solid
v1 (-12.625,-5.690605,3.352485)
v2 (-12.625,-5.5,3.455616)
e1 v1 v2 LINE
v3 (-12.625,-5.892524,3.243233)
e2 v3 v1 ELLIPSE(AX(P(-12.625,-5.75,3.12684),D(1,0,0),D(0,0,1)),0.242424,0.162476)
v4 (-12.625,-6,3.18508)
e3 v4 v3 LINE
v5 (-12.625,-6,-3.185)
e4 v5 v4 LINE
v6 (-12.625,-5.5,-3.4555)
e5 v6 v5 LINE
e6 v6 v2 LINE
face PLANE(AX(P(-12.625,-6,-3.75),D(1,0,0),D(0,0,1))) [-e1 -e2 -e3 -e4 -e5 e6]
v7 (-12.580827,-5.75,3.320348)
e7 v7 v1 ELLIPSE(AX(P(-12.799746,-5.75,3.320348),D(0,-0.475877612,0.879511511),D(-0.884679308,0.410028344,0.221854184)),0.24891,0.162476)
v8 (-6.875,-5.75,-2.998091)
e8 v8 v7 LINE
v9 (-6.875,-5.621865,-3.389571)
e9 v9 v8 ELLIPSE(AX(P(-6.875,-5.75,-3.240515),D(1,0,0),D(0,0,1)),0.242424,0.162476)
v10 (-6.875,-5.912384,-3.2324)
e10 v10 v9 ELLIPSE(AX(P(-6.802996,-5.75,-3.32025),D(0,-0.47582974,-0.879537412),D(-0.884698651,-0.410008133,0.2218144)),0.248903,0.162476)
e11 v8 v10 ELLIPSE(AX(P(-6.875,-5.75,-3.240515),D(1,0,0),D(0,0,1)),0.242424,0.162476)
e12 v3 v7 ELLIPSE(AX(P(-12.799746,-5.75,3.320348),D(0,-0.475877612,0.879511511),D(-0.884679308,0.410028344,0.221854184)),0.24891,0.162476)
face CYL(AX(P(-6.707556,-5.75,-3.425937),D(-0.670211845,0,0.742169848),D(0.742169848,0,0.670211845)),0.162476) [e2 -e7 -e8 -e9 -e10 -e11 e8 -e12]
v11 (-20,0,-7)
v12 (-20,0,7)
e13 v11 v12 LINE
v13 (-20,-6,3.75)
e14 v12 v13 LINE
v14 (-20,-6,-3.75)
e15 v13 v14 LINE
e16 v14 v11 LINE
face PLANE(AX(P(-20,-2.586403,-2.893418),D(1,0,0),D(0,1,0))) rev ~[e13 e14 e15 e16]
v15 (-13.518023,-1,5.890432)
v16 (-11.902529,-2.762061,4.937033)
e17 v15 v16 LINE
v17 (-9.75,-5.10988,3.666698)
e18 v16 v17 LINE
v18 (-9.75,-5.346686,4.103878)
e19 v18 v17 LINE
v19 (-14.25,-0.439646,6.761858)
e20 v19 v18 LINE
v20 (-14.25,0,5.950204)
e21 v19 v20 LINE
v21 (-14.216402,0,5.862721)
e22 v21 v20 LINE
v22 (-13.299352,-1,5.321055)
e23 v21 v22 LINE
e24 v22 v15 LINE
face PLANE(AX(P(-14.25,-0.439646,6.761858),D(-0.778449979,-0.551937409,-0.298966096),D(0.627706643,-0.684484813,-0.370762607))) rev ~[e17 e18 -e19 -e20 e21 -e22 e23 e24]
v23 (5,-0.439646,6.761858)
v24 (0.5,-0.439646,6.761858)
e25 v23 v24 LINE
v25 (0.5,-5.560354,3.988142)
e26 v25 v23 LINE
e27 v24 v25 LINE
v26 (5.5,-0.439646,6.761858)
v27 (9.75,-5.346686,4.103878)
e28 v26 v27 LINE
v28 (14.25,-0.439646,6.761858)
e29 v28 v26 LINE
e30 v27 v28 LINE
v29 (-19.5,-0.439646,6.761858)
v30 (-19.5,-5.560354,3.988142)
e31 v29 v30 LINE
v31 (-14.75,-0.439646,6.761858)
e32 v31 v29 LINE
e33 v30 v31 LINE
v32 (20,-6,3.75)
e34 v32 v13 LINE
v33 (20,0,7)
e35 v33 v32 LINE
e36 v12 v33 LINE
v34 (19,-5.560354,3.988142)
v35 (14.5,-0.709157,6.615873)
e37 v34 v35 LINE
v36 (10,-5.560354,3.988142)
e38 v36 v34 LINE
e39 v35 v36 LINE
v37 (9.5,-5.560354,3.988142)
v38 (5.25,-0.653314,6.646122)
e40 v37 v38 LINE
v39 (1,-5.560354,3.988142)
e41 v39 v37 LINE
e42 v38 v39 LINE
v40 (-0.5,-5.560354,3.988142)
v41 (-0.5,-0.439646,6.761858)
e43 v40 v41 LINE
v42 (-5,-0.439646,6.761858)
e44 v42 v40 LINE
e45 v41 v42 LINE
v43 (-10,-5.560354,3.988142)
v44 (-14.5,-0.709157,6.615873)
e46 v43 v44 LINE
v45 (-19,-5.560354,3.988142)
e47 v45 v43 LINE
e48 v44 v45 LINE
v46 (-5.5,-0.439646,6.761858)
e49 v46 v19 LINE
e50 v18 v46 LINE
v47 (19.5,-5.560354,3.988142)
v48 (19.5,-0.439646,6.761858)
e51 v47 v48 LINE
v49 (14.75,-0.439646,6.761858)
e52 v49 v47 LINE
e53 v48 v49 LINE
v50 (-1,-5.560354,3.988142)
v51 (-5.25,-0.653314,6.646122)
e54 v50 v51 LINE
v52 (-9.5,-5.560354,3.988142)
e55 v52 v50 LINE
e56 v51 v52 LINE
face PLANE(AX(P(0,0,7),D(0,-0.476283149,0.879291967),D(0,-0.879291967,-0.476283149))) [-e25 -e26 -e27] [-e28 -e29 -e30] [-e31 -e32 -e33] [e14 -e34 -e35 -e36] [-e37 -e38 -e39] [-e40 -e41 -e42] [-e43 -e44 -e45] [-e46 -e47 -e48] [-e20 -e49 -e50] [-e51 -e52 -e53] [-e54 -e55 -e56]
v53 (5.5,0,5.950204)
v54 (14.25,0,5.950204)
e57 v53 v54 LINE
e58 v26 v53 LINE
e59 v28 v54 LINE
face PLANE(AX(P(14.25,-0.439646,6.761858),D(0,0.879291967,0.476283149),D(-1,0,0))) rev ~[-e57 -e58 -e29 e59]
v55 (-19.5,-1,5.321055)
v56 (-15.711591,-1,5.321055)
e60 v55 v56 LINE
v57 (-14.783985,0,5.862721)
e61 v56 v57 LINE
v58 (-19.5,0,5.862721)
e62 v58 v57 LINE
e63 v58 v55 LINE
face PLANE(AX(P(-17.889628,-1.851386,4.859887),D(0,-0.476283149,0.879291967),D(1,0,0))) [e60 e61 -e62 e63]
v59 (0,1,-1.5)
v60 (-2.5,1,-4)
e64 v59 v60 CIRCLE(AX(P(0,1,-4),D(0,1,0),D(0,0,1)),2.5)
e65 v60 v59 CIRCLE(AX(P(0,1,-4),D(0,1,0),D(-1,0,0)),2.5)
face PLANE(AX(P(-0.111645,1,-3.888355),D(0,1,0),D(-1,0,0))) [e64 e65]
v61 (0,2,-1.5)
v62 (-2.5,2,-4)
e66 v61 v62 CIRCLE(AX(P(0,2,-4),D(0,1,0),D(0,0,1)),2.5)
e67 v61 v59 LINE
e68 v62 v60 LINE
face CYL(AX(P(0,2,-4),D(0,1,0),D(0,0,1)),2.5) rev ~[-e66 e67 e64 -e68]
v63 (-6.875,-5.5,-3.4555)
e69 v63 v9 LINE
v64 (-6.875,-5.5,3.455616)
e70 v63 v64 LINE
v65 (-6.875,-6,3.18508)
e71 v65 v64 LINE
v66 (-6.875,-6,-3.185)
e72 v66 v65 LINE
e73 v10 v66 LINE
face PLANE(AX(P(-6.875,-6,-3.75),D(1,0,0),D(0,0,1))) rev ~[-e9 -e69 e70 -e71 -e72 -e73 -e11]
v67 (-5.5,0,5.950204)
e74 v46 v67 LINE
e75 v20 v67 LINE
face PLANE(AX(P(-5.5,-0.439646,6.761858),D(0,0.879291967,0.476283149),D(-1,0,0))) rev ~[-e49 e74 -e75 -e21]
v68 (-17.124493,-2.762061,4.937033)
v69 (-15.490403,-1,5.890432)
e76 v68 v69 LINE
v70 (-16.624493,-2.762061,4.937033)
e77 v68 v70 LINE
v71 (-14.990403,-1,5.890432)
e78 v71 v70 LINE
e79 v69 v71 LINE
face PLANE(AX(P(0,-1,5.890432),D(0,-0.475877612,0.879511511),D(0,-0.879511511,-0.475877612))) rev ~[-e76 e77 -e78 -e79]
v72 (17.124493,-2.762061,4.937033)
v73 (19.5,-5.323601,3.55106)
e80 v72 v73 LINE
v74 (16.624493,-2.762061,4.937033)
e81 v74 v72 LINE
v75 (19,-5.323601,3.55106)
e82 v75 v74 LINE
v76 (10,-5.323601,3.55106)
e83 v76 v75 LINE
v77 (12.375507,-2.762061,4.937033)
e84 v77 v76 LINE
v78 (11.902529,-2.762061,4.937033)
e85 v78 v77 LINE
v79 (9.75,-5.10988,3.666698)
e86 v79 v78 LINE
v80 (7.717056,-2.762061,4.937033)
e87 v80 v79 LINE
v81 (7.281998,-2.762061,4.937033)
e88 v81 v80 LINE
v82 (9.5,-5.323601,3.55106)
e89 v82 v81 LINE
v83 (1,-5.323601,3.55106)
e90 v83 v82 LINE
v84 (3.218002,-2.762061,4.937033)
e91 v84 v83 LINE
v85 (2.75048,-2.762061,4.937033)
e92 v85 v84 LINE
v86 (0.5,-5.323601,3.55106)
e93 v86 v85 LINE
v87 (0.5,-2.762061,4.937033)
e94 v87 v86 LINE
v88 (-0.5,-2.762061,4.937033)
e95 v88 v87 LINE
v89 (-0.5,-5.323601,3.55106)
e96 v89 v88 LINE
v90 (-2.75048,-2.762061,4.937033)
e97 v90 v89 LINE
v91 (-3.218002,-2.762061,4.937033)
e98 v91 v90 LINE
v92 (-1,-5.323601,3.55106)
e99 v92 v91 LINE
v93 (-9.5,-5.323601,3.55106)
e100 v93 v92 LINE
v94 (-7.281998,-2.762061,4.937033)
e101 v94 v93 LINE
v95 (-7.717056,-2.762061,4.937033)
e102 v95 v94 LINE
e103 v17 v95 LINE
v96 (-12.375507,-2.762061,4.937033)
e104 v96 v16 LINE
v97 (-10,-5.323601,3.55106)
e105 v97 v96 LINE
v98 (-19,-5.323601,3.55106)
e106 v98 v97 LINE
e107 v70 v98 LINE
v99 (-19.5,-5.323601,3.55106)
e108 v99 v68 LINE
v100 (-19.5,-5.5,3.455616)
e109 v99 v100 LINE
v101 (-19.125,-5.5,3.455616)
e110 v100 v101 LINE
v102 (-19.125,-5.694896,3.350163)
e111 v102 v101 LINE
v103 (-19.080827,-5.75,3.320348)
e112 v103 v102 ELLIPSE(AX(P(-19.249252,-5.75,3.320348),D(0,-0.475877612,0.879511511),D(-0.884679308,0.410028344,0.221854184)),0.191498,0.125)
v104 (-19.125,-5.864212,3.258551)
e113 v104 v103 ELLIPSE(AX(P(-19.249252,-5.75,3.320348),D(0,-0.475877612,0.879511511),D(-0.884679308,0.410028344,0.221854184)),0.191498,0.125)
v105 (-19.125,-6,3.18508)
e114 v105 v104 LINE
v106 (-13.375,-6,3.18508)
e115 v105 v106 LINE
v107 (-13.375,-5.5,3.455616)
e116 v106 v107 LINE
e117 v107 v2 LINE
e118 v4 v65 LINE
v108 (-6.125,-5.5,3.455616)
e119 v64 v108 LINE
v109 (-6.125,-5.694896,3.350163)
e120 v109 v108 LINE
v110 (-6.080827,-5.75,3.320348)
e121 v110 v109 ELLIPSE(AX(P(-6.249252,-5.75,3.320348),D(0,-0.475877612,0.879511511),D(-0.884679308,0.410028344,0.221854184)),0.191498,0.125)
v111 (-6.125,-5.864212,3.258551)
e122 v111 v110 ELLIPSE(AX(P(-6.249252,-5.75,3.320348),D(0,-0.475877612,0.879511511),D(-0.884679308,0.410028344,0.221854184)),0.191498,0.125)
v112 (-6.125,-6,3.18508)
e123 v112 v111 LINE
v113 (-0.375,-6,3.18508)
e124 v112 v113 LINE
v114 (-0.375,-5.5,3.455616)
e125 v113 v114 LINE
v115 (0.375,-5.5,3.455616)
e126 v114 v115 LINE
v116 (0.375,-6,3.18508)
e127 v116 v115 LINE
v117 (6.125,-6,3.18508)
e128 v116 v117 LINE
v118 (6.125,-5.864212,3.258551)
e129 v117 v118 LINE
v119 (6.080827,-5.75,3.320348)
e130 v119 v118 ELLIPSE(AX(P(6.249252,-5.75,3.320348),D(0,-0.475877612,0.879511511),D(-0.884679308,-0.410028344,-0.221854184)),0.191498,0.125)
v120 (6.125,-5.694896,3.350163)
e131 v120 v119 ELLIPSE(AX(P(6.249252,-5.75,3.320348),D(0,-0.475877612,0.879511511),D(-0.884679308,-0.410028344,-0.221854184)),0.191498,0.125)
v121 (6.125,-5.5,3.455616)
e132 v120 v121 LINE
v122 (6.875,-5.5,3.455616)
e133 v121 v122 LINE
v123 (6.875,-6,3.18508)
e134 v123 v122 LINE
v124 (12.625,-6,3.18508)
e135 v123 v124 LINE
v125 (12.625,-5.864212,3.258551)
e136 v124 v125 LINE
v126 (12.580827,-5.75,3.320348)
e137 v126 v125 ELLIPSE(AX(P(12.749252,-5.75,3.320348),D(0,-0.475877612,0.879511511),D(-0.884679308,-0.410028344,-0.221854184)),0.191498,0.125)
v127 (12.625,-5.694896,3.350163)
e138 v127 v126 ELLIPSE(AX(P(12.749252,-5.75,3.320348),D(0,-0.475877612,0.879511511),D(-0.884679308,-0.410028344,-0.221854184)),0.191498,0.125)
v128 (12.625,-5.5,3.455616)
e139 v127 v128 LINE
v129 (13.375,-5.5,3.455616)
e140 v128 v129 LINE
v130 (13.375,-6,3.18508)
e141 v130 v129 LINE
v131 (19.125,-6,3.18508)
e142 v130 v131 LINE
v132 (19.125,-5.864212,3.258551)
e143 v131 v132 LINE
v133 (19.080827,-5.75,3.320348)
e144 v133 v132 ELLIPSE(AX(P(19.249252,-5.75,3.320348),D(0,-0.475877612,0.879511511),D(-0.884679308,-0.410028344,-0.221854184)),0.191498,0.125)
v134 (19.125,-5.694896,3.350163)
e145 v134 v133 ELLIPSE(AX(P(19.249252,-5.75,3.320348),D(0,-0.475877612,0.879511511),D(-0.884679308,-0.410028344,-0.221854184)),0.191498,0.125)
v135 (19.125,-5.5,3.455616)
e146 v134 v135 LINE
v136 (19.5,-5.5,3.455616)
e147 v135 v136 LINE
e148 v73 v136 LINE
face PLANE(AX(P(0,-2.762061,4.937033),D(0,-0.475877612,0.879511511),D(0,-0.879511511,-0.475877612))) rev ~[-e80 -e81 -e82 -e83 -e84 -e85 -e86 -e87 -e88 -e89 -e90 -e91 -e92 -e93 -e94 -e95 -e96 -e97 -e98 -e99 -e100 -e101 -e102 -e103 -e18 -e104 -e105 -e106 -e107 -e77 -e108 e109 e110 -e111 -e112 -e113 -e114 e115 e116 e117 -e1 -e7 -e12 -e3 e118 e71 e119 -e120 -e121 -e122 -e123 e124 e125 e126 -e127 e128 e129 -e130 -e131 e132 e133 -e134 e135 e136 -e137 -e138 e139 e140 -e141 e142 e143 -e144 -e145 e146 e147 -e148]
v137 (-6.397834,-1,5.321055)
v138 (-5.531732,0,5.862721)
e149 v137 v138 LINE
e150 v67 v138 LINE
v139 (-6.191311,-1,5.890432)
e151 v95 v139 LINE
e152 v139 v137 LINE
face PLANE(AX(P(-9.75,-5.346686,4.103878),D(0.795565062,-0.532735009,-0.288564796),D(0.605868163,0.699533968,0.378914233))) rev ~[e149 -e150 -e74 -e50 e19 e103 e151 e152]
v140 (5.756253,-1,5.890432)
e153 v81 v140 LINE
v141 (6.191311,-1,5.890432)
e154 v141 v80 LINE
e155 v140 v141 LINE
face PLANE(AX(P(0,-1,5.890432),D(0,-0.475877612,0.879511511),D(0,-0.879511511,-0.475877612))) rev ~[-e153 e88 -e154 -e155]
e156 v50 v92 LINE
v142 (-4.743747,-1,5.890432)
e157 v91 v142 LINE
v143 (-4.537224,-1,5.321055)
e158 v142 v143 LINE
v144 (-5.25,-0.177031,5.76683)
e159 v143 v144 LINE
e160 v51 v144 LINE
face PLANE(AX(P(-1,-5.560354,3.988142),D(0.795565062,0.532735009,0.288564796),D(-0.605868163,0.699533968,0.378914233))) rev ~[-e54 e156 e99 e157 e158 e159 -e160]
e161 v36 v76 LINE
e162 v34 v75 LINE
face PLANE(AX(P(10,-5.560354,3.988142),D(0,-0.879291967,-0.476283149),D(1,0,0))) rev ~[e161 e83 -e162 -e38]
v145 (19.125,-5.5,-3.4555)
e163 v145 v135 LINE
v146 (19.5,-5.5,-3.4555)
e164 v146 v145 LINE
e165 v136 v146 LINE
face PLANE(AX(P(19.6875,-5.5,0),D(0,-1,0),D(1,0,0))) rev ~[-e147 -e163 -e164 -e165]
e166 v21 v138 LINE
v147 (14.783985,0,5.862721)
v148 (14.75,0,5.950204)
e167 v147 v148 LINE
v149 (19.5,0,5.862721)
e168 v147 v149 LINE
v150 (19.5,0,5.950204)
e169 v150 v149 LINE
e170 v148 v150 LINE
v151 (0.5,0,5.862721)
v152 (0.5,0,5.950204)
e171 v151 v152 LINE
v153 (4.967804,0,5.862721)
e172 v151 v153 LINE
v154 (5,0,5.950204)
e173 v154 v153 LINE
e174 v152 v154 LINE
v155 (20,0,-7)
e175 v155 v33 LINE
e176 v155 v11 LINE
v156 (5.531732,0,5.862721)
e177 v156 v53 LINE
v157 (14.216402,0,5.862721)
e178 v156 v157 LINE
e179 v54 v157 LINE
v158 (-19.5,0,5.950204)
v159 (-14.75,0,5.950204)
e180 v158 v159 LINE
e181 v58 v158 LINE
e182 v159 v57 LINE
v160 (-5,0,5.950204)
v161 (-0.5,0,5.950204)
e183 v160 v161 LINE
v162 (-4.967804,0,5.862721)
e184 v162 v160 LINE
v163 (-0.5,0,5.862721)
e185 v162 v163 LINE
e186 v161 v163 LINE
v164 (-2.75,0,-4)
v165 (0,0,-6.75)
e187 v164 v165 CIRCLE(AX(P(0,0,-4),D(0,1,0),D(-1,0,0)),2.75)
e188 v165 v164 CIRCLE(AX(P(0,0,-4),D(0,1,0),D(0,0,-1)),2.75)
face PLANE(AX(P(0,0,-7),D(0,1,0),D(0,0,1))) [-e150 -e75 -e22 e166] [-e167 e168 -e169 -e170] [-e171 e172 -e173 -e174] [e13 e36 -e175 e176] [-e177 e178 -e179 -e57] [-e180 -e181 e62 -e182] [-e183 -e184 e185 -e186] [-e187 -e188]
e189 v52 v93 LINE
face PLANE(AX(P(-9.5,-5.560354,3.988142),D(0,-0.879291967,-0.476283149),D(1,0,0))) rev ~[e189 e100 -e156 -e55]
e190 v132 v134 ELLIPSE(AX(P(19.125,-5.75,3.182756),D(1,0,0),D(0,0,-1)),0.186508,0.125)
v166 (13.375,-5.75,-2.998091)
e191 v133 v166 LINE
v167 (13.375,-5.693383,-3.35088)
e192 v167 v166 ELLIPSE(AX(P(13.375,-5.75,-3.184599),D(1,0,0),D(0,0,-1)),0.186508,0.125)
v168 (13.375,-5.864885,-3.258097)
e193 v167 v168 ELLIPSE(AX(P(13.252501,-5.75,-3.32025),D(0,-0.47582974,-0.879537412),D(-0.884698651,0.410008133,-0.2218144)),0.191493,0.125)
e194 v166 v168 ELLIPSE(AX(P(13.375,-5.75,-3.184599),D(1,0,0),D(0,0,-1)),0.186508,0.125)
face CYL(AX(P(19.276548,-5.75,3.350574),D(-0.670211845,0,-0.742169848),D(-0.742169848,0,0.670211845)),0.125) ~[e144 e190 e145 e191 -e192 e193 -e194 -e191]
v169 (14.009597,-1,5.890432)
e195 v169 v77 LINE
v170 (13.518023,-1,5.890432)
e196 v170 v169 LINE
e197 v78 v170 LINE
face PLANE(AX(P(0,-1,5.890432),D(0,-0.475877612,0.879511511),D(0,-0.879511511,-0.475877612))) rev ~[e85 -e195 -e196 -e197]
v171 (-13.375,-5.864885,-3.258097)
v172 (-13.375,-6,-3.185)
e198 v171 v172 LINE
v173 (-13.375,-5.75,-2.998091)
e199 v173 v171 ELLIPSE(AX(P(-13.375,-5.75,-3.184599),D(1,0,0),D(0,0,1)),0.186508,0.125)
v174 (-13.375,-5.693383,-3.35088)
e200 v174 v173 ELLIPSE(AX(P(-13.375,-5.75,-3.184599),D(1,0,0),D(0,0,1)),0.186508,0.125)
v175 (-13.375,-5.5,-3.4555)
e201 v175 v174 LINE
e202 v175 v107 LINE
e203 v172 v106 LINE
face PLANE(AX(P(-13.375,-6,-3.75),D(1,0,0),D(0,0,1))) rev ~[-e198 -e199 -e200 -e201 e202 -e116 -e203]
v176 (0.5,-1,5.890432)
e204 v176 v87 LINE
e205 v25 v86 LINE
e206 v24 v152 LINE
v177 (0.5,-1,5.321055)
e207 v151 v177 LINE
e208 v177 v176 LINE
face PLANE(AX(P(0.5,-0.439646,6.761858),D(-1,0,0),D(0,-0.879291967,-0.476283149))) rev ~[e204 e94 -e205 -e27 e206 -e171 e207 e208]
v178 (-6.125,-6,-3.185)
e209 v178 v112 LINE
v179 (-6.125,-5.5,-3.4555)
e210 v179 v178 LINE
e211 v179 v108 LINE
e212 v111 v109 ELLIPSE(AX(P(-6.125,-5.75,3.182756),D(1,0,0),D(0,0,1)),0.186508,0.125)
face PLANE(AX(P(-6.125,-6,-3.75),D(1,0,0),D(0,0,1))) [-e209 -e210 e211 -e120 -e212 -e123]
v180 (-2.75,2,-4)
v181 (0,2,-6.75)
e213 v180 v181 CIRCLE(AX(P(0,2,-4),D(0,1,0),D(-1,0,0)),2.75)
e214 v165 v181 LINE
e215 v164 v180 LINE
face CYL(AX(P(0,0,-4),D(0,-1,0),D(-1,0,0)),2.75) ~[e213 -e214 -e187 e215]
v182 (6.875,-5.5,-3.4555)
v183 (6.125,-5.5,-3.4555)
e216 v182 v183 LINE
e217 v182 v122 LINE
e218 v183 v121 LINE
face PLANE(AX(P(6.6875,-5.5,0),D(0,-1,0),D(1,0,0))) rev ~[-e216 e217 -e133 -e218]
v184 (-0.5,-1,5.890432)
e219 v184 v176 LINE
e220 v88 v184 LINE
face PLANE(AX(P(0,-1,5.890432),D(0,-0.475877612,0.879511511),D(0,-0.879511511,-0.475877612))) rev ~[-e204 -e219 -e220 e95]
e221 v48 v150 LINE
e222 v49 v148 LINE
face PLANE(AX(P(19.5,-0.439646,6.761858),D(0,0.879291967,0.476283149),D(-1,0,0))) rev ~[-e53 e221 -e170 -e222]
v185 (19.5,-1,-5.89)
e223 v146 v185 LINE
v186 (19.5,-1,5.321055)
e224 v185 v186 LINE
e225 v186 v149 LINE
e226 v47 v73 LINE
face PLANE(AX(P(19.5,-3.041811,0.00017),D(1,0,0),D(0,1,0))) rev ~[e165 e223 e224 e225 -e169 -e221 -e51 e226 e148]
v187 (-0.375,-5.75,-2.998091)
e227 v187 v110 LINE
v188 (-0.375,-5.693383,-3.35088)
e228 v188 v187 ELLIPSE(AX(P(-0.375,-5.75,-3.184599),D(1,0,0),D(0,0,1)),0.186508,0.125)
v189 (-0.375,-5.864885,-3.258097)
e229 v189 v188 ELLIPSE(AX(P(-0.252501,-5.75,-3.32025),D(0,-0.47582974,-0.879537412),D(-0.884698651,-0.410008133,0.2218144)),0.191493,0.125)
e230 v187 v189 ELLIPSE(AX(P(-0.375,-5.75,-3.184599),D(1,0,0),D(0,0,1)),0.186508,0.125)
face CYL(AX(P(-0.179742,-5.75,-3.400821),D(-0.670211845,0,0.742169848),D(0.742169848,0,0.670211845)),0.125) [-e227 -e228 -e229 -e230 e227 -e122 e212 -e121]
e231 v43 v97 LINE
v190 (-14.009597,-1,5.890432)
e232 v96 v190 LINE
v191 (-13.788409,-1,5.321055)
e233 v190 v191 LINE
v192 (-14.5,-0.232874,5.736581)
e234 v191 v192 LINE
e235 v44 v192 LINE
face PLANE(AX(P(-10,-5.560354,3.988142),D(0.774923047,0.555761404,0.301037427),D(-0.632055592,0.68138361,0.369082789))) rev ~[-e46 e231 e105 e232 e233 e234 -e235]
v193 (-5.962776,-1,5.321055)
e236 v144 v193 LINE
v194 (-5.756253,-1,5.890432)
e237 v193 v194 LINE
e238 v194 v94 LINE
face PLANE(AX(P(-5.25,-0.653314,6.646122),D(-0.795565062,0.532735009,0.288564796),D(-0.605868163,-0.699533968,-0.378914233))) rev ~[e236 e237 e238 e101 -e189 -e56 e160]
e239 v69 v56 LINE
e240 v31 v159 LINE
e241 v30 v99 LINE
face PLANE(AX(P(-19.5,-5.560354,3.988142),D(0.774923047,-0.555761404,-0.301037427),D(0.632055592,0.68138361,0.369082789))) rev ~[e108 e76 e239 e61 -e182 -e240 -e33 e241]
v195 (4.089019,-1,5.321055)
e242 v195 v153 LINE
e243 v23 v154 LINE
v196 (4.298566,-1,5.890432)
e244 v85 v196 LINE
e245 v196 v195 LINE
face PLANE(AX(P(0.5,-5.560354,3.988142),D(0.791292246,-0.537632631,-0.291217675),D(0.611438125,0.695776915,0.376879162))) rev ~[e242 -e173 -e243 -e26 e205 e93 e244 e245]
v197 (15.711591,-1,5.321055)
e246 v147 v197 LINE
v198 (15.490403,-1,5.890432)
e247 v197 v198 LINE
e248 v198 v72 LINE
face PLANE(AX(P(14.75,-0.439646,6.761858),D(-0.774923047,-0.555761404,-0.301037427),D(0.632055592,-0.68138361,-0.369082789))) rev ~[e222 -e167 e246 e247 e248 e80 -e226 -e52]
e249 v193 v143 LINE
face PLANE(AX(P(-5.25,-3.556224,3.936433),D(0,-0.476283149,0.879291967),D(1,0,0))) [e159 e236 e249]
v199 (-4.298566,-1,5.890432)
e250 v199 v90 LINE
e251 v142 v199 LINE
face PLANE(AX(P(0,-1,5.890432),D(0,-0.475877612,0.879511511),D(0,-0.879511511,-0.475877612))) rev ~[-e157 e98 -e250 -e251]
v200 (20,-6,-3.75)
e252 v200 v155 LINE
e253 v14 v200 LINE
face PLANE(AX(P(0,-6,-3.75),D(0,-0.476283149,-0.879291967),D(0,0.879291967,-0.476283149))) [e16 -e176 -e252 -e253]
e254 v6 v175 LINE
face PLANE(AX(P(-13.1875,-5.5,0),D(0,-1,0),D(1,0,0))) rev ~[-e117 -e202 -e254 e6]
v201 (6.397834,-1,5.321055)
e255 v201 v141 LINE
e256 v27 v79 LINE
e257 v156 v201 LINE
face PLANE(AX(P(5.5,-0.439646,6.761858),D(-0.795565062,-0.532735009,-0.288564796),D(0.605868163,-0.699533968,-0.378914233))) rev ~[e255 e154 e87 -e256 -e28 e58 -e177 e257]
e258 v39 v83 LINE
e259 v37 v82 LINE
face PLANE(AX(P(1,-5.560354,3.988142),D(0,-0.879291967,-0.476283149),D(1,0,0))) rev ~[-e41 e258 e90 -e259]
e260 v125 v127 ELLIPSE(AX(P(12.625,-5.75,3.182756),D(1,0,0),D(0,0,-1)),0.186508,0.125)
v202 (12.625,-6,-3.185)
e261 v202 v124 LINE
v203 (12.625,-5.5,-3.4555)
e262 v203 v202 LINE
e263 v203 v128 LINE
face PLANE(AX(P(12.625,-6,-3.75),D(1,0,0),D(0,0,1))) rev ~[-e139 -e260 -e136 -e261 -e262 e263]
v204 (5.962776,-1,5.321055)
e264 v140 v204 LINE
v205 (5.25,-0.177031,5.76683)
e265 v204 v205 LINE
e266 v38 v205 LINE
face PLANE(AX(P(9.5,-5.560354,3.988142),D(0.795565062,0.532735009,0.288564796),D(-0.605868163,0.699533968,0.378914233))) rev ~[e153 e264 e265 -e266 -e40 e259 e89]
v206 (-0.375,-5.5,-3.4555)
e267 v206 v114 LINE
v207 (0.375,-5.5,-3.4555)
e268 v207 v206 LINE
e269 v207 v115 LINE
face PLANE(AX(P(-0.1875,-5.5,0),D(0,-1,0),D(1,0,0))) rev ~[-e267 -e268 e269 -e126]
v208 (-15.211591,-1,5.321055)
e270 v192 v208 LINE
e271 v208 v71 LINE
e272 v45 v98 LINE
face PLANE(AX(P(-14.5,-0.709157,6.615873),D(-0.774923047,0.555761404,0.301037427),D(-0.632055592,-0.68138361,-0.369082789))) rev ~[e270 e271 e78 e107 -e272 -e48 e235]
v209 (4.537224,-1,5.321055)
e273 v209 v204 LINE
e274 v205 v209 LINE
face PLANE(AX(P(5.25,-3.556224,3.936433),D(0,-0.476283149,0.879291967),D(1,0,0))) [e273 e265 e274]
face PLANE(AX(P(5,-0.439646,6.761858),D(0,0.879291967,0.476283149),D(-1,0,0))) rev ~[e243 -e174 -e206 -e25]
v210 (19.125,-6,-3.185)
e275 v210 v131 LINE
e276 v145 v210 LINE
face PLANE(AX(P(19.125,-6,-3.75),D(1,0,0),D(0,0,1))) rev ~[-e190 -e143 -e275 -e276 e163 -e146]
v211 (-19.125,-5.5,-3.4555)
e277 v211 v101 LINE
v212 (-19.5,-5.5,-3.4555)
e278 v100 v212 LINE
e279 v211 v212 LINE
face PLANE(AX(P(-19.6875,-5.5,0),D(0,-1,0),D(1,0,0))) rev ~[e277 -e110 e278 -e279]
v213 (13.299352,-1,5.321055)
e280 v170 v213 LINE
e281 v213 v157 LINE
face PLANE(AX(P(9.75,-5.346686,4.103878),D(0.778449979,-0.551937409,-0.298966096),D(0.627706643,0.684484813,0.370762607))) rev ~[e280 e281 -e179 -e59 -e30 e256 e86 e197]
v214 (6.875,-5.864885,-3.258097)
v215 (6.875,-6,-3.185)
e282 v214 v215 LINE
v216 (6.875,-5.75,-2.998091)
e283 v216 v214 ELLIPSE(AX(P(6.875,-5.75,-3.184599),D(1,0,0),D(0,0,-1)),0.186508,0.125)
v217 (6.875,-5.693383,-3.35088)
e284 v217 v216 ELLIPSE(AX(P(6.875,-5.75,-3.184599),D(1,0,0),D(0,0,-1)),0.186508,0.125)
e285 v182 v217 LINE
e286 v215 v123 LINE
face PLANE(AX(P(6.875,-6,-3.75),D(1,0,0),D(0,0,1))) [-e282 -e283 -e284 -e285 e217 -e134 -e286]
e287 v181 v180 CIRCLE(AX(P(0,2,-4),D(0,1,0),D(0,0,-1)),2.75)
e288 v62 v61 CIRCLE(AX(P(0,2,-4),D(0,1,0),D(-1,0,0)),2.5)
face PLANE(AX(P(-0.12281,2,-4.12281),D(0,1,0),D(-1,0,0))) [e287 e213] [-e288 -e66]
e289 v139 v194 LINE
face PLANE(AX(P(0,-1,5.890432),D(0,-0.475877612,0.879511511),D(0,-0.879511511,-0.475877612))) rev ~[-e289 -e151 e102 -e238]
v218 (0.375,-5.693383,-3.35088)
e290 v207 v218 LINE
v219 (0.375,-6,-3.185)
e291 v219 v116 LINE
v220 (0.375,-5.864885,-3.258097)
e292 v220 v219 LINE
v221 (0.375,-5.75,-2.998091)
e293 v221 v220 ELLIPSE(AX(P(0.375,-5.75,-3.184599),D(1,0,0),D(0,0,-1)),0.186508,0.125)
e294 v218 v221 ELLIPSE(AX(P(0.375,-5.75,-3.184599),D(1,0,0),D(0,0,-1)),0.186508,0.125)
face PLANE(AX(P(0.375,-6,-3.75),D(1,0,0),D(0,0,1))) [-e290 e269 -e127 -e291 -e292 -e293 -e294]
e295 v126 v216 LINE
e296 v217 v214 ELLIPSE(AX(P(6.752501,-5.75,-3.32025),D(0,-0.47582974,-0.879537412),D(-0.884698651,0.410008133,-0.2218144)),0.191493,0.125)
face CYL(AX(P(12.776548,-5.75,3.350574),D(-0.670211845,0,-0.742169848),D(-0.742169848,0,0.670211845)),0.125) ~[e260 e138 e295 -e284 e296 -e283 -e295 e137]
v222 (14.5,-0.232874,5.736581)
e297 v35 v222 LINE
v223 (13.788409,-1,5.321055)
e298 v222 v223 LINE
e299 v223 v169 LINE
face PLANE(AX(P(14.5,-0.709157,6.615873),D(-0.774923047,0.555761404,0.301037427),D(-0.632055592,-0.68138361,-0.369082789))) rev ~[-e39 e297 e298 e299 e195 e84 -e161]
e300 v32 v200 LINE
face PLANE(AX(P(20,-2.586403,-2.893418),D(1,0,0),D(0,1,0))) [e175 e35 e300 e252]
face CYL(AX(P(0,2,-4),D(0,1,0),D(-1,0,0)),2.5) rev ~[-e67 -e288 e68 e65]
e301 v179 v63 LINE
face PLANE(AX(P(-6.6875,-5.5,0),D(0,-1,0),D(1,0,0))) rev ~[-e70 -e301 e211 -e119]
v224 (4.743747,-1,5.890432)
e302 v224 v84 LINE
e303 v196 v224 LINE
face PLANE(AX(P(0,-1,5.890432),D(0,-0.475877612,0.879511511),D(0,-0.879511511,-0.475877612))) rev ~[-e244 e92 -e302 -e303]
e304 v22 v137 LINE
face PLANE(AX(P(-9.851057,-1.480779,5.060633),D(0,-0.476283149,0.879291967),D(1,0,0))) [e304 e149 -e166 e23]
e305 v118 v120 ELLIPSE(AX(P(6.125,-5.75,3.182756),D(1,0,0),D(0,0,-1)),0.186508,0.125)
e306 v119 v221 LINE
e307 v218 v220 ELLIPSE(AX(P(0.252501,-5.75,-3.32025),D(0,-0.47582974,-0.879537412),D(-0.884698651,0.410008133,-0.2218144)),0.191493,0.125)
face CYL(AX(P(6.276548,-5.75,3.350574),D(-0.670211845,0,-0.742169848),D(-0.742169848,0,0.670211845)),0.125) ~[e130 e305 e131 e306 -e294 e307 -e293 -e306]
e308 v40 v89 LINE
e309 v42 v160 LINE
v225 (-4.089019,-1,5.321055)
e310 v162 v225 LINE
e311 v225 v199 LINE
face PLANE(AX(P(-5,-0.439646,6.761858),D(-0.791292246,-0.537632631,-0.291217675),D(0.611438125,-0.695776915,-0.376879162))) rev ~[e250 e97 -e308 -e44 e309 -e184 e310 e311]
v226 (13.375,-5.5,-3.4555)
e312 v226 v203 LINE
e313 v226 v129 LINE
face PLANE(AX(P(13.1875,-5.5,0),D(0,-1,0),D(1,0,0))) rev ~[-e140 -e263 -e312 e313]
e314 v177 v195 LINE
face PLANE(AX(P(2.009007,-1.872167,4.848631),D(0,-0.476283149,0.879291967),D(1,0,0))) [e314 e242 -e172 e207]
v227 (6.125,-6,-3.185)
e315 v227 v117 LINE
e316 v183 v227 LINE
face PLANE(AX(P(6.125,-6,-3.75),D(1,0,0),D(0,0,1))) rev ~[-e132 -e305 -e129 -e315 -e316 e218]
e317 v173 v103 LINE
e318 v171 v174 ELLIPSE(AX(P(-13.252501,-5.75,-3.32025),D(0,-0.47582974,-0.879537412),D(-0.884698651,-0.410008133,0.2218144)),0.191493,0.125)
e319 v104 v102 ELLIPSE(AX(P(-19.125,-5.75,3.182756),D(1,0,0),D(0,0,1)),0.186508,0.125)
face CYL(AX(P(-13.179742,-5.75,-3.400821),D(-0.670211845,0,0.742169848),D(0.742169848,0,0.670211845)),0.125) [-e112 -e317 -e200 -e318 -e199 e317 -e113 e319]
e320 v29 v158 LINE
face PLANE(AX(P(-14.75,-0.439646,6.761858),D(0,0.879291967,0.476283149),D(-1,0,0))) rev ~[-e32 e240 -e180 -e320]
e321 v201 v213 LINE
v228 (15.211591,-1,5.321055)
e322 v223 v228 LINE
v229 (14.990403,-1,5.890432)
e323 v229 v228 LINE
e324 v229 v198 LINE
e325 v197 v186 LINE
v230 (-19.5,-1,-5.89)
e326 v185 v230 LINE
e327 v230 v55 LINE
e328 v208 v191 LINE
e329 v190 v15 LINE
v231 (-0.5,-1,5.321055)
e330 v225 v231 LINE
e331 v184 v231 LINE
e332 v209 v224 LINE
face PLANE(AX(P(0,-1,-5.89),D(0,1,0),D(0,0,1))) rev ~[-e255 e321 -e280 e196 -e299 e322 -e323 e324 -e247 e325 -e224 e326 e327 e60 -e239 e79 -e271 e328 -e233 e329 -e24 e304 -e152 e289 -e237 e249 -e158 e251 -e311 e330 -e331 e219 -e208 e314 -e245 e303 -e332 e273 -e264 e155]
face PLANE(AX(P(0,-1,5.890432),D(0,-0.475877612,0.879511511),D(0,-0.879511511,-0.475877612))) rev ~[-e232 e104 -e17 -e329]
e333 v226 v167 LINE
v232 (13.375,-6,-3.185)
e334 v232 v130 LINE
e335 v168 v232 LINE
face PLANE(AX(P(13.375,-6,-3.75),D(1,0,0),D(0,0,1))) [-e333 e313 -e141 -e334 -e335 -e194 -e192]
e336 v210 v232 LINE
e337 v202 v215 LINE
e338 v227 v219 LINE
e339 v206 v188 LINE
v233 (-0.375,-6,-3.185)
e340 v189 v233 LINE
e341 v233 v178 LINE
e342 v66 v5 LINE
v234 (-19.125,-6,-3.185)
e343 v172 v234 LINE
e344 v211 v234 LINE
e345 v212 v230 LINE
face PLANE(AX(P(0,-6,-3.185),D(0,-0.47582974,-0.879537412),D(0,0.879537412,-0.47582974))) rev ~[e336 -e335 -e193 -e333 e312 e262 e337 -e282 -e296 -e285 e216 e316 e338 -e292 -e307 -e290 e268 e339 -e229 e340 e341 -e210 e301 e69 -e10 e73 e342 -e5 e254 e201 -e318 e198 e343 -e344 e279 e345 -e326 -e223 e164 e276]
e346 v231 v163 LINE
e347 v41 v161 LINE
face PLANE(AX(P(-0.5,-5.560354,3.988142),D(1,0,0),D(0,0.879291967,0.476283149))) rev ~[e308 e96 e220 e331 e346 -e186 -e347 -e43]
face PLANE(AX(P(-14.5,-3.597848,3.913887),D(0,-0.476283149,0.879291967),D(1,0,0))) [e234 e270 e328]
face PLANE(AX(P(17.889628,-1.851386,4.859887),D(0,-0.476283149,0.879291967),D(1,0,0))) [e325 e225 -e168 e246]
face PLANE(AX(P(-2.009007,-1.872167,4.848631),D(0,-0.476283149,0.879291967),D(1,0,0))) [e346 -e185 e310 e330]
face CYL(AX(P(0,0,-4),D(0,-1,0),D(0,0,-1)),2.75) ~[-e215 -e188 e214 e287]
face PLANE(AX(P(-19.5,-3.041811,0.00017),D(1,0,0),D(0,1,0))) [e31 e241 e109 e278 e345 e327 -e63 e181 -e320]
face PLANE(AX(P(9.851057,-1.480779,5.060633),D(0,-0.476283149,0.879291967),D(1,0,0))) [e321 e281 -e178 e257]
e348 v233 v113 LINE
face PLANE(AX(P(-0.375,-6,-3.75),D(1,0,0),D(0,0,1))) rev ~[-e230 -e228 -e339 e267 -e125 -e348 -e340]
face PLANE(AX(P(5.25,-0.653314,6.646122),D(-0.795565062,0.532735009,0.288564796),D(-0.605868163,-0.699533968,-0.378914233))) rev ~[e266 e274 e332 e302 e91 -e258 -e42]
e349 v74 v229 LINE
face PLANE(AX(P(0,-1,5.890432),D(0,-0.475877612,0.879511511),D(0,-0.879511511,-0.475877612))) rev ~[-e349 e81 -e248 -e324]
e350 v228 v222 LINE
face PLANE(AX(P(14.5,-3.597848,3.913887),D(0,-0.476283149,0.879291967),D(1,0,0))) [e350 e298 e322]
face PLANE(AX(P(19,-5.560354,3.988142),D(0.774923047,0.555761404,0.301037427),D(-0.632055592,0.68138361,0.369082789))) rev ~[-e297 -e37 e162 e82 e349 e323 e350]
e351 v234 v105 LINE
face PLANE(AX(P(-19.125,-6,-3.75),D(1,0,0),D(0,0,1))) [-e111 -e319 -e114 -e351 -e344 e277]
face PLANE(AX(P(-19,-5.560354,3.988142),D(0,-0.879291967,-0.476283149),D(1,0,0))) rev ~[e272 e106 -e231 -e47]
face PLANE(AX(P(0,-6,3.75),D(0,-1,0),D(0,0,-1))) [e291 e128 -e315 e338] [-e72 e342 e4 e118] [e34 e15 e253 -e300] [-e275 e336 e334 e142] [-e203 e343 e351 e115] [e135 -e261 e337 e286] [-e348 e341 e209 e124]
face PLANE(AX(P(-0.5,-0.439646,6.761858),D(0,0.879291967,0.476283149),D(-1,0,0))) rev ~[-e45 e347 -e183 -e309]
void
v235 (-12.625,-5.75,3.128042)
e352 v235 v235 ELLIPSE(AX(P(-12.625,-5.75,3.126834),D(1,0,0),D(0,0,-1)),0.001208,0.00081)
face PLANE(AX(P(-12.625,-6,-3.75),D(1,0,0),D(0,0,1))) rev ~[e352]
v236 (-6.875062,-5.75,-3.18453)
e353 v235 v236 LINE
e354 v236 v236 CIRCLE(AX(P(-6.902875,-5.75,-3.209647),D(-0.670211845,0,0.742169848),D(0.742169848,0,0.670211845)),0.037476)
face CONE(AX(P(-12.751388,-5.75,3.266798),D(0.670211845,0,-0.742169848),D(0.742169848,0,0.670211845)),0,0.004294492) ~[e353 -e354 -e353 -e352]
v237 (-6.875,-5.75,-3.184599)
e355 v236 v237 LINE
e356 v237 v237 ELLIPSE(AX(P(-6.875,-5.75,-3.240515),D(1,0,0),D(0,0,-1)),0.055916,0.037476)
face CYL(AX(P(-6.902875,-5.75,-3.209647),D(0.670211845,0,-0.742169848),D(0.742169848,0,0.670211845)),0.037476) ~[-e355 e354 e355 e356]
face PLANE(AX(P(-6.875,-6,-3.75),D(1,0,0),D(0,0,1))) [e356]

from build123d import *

# Parameters (mm, degrees)
F1_DEPTH      = 20
F1_DEPTH_BACK = 20
F3_DEPTH      = 2
F5_DEPTH      = 19.5
F5_DEPTH_BACK = 19.5
F6_W          = 0.375
F6_H          = 7.5
F7_DEPTH      = 0.5
F17_DEPTH     = 1
F19_DEPTH     = 1


with BuildPart() as f1:
    # F0 (on Right) → F1 (new body, two sides)
    with BuildSketch(Plane.YZ) as f1_sk:
        Polygon((0, -7), (0, 0), (-6, 0), (-6, -3.75), align=None)
        Polygon((-6, 0), (0, 0), (0, 7), (-6, 3.75), align=None)
    extrude(amount=F1_DEPTH)
    extrude(f1_sk.sketch, amount=-F1_DEPTH_BACK)

    # F2 (on face) → F3 (join)
    with BuildSketch(Plane(origin=(0, 0, 0), x_dir=(-1, 0, 0), z_dir=(0, 1, 0))):
        with BuildLine():
            ThreePointArc((2.75, -4), (-1.9445436483, -2.0554563517), (0, -6.75))
            ThreePointArc((0, -6.75), (1.9445436483, -5.9445436483), (2.75, -4))
        make_face()
    extrude(amount=F3_DEPTH)

    # F4 (on Right) → F5 (cut, two sides)
    with BuildSketch(Plane.YZ) as f5_sk:
        Polygon((-1, 5.8904322458), (-2.7620611939, 4.9370331568), (-6, 3.185080433), (-6, -3.185), (-1, -5.89), (-1, 0), align=None)
    extrude(amount=-F5_DEPTH, mode=Mode.SUBTRACT)
    extrude(f5_sk.sketch, amount=F5_DEPTH_BACK, mode=Mode.SUBTRACT)

    # F6 (on face) → F7 (join)
    with BuildSketch(Plane.XZ.offset(6)):
        with Locations((-0.1875, 0)):
            Rectangle(F6_W, F6_H)
        with Locations((0.1875, 0)):
            Rectangle(F6_W, F6_H)
        with Locations((6.6875, 0)):
            Rectangle(F6_W, F6_H)
        with Locations((6.3125, 0)):
            Rectangle(F6_W, F6_H)
        with Locations((13.1875, 0)):
            Rectangle(F6_W, F6_H)
        with Locations((12.8125, 0)):
            Rectangle(F6_W, F6_H)
        with Locations((19.6875, 0)):
            Rectangle(F6_W, F6_H)
        with Locations((19.3125, 0)):
            Rectangle(F6_W, F6_H)
        with Locations((-6.6875, 0)):
            Rectangle(F6_W, F6_H)
        with Locations((-6.3125, 0)):
            Rectangle(F6_W, F6_H)
        with Locations((-13.1875, 0)):
            Rectangle(F6_W, F6_H)
        with Locations((-12.8125, 0)):
            Rectangle(F6_W, F6_H)
        with Locations((-19.6875, 0)):
            Rectangle(F6_W, F6_H)
        with Locations((-19.3125, 0)):
            Rectangle(F6_W, F6_H)
    extrude(amount=-F7_DEPTH)

    # F9 (on offset) → F10 (revolve)
    with BuildSketch(Plane.XZ.offset(5.75)):
        Polygon((-13.086971221, -3.3170442338), (-19.1837764068, 3.4343508854), (-19.2789044945, 3.353184308), (-13.3750620526, -3.1845304184), (-13.1797424519, -3.4008207144), align=None)
    revolve(axis=Axis((-16.3269832736, -5.75, 0.0843269448), (-0.6702118448, 0, 0.7421698479)))

    # F9 (on offset) → F11 (revolve)
    with BuildSketch(Plane.XZ.offset(5.75)):
        Polygon((-6.586971221, -3.3170442338), (-12.6837764068, 3.4343508854), (-12.8043608498, 3.3254578575), (-12.7513883635, 3.2667979242), (-6.8750620526, -3.1845304184), (-6.6797424519, -3.4008207144), align=None)
    revolve(axis=Axis((-12.7778746067, -5.75, 3.2961278908), (-0.6702118448, 0, 0.7421698479)))

    # F9 (on offset) → F12 (revolve)
    with BuildSketch(Plane.XZ.offset(5.75)):
        Polygon((-6.2765476378, 3.3505744048), (-0.3750620526, -3.1845304184), (-0.1797424519, -3.4008207144), (-0.086971221, -3.3170442338), (-6.1837764068, 3.4343508854), align=None)
    revolve(axis=Axis((-3.3258048452, -5.75, 0.0830219932), (-0.6702118448, 0, 0.7421698479)))

    # F9 (on offset) → F13 (revolve)
    with BuildSketch(Plane.XZ.offset(5.75)):
        Polygon((0.086971221, -3.3170442338), (0.1797424519, -3.4008207144), (0.3750620526, -3.1845304184), (6.2765476378, 3.3505744048), (6.1837764068, 3.4343508854), align=None)
    revolve(axis=Axis((3.3258048452, -5.75, 0.0830219932), (0.6702118448, 0, 0.7421698479)))

    # F9 (on offset) → F14 (revolve)
    with BuildSketch(Plane.XZ.offset(5.75)):
        Polygon((12.7765476378, 3.3505744048), (12.6837764068, 3.4343508854), (6.586971221, -3.3170442338), (6.6797424519, -3.4008207144), (6.8750620526, -3.1845304184), align=None)
    revolve(axis=Axis((9.8258048452, -5.75, 0.0830219932), (0.6702118448, 0, 0.7421698479)))

    # F9 (on offset) → F15 (revolve)
    with BuildSketch(Plane.XZ.offset(5.75)):
        Polygon((19.2765476378, 3.3505744048), (19.1837764068, 3.4343508854), (13.086971221, -3.3170442338), (13.1797424519, -3.4008207144), (13.3750620526, -3.1845304184), align=None)
    revolve(axis=Axis((16.3258048452, -5.75, 0.0830219932), (0.6702118448, 0, 0.7421698479)))

    # F16 (on face) → F17 (cut)
    with BuildSketch(Plane(origin=(0, -2.9315436242, 5.4120805369), x_dir=(1, 0, 0), z_dir=(0, -0.4762831485, 0.8792919665))):
        Polygon((14.25, 2.8339820398), (8.25, 2.8339820398), (7.5, 2.8339820398), (5.5, 2.8339820398), (9.75, -2.7466899922), align=None)
        Polygon((10, -2.9896899922), (19, -2.9896899922), (14.5, 2.5274729855), align=None)
        Polygon((19.5, -2.9896899922), (19.5, 2.8339820398), (14.75, 2.8339820398), align=None)
        Polygon((5.25, 2.5909820398), (1, -2.9896899922), (9.5, -2.9896899922), align=None)
        Polygon((5, 2.8339820398), (0.5, 2.8339820398), (0.5, -2.9896899922), align=None)
        Polygon((-0.5, -2.9896899922), (-0.5, 2.8339820398), (-5, 2.8339820398), align=None)
        Polygon((-1, -2.9896899922), (-5.25, 2.5909820398), (-9.5, -2.9896899922), align=None)
        Polygon((-8.25, 2.8339820398), (-14.25, 2.8339820398), (-9.75, -2.7466899922), (-5.5, 2.8339820398), (-7.5, 2.8339820398), align=None)
        Polygon((-14.5, 2.5274729855), (-19, -2.9896899922), (-10, -2.9896899922), align=None)
        Polygon((-19.5, 2.8339820398), (-19.5, -2.9896899922), (-14.75, 2.8339820398), align=None)
    extrude(amount=-F17_DEPTH, mode=Mode.SUBTRACT)

    # F18 (on face) → F19 (cut)
    with BuildSketch(Plane(origin=(0, 2, 0), x_dir=(-1, 0, 0), z_dir=(0, 1, 0))):
        with BuildLine():
            ThreePointArc((2.5, -4), (1.767766953, -2.232233047), (0, -1.5))
            ThreePointArc((0, -1.5), (-1.767766953, -5.767766953), (2.5, -4))
        make_face()
    extrude(amount=-F19_DEPTH, mode=Mode.SUBTRACT)


solid = f1.part
